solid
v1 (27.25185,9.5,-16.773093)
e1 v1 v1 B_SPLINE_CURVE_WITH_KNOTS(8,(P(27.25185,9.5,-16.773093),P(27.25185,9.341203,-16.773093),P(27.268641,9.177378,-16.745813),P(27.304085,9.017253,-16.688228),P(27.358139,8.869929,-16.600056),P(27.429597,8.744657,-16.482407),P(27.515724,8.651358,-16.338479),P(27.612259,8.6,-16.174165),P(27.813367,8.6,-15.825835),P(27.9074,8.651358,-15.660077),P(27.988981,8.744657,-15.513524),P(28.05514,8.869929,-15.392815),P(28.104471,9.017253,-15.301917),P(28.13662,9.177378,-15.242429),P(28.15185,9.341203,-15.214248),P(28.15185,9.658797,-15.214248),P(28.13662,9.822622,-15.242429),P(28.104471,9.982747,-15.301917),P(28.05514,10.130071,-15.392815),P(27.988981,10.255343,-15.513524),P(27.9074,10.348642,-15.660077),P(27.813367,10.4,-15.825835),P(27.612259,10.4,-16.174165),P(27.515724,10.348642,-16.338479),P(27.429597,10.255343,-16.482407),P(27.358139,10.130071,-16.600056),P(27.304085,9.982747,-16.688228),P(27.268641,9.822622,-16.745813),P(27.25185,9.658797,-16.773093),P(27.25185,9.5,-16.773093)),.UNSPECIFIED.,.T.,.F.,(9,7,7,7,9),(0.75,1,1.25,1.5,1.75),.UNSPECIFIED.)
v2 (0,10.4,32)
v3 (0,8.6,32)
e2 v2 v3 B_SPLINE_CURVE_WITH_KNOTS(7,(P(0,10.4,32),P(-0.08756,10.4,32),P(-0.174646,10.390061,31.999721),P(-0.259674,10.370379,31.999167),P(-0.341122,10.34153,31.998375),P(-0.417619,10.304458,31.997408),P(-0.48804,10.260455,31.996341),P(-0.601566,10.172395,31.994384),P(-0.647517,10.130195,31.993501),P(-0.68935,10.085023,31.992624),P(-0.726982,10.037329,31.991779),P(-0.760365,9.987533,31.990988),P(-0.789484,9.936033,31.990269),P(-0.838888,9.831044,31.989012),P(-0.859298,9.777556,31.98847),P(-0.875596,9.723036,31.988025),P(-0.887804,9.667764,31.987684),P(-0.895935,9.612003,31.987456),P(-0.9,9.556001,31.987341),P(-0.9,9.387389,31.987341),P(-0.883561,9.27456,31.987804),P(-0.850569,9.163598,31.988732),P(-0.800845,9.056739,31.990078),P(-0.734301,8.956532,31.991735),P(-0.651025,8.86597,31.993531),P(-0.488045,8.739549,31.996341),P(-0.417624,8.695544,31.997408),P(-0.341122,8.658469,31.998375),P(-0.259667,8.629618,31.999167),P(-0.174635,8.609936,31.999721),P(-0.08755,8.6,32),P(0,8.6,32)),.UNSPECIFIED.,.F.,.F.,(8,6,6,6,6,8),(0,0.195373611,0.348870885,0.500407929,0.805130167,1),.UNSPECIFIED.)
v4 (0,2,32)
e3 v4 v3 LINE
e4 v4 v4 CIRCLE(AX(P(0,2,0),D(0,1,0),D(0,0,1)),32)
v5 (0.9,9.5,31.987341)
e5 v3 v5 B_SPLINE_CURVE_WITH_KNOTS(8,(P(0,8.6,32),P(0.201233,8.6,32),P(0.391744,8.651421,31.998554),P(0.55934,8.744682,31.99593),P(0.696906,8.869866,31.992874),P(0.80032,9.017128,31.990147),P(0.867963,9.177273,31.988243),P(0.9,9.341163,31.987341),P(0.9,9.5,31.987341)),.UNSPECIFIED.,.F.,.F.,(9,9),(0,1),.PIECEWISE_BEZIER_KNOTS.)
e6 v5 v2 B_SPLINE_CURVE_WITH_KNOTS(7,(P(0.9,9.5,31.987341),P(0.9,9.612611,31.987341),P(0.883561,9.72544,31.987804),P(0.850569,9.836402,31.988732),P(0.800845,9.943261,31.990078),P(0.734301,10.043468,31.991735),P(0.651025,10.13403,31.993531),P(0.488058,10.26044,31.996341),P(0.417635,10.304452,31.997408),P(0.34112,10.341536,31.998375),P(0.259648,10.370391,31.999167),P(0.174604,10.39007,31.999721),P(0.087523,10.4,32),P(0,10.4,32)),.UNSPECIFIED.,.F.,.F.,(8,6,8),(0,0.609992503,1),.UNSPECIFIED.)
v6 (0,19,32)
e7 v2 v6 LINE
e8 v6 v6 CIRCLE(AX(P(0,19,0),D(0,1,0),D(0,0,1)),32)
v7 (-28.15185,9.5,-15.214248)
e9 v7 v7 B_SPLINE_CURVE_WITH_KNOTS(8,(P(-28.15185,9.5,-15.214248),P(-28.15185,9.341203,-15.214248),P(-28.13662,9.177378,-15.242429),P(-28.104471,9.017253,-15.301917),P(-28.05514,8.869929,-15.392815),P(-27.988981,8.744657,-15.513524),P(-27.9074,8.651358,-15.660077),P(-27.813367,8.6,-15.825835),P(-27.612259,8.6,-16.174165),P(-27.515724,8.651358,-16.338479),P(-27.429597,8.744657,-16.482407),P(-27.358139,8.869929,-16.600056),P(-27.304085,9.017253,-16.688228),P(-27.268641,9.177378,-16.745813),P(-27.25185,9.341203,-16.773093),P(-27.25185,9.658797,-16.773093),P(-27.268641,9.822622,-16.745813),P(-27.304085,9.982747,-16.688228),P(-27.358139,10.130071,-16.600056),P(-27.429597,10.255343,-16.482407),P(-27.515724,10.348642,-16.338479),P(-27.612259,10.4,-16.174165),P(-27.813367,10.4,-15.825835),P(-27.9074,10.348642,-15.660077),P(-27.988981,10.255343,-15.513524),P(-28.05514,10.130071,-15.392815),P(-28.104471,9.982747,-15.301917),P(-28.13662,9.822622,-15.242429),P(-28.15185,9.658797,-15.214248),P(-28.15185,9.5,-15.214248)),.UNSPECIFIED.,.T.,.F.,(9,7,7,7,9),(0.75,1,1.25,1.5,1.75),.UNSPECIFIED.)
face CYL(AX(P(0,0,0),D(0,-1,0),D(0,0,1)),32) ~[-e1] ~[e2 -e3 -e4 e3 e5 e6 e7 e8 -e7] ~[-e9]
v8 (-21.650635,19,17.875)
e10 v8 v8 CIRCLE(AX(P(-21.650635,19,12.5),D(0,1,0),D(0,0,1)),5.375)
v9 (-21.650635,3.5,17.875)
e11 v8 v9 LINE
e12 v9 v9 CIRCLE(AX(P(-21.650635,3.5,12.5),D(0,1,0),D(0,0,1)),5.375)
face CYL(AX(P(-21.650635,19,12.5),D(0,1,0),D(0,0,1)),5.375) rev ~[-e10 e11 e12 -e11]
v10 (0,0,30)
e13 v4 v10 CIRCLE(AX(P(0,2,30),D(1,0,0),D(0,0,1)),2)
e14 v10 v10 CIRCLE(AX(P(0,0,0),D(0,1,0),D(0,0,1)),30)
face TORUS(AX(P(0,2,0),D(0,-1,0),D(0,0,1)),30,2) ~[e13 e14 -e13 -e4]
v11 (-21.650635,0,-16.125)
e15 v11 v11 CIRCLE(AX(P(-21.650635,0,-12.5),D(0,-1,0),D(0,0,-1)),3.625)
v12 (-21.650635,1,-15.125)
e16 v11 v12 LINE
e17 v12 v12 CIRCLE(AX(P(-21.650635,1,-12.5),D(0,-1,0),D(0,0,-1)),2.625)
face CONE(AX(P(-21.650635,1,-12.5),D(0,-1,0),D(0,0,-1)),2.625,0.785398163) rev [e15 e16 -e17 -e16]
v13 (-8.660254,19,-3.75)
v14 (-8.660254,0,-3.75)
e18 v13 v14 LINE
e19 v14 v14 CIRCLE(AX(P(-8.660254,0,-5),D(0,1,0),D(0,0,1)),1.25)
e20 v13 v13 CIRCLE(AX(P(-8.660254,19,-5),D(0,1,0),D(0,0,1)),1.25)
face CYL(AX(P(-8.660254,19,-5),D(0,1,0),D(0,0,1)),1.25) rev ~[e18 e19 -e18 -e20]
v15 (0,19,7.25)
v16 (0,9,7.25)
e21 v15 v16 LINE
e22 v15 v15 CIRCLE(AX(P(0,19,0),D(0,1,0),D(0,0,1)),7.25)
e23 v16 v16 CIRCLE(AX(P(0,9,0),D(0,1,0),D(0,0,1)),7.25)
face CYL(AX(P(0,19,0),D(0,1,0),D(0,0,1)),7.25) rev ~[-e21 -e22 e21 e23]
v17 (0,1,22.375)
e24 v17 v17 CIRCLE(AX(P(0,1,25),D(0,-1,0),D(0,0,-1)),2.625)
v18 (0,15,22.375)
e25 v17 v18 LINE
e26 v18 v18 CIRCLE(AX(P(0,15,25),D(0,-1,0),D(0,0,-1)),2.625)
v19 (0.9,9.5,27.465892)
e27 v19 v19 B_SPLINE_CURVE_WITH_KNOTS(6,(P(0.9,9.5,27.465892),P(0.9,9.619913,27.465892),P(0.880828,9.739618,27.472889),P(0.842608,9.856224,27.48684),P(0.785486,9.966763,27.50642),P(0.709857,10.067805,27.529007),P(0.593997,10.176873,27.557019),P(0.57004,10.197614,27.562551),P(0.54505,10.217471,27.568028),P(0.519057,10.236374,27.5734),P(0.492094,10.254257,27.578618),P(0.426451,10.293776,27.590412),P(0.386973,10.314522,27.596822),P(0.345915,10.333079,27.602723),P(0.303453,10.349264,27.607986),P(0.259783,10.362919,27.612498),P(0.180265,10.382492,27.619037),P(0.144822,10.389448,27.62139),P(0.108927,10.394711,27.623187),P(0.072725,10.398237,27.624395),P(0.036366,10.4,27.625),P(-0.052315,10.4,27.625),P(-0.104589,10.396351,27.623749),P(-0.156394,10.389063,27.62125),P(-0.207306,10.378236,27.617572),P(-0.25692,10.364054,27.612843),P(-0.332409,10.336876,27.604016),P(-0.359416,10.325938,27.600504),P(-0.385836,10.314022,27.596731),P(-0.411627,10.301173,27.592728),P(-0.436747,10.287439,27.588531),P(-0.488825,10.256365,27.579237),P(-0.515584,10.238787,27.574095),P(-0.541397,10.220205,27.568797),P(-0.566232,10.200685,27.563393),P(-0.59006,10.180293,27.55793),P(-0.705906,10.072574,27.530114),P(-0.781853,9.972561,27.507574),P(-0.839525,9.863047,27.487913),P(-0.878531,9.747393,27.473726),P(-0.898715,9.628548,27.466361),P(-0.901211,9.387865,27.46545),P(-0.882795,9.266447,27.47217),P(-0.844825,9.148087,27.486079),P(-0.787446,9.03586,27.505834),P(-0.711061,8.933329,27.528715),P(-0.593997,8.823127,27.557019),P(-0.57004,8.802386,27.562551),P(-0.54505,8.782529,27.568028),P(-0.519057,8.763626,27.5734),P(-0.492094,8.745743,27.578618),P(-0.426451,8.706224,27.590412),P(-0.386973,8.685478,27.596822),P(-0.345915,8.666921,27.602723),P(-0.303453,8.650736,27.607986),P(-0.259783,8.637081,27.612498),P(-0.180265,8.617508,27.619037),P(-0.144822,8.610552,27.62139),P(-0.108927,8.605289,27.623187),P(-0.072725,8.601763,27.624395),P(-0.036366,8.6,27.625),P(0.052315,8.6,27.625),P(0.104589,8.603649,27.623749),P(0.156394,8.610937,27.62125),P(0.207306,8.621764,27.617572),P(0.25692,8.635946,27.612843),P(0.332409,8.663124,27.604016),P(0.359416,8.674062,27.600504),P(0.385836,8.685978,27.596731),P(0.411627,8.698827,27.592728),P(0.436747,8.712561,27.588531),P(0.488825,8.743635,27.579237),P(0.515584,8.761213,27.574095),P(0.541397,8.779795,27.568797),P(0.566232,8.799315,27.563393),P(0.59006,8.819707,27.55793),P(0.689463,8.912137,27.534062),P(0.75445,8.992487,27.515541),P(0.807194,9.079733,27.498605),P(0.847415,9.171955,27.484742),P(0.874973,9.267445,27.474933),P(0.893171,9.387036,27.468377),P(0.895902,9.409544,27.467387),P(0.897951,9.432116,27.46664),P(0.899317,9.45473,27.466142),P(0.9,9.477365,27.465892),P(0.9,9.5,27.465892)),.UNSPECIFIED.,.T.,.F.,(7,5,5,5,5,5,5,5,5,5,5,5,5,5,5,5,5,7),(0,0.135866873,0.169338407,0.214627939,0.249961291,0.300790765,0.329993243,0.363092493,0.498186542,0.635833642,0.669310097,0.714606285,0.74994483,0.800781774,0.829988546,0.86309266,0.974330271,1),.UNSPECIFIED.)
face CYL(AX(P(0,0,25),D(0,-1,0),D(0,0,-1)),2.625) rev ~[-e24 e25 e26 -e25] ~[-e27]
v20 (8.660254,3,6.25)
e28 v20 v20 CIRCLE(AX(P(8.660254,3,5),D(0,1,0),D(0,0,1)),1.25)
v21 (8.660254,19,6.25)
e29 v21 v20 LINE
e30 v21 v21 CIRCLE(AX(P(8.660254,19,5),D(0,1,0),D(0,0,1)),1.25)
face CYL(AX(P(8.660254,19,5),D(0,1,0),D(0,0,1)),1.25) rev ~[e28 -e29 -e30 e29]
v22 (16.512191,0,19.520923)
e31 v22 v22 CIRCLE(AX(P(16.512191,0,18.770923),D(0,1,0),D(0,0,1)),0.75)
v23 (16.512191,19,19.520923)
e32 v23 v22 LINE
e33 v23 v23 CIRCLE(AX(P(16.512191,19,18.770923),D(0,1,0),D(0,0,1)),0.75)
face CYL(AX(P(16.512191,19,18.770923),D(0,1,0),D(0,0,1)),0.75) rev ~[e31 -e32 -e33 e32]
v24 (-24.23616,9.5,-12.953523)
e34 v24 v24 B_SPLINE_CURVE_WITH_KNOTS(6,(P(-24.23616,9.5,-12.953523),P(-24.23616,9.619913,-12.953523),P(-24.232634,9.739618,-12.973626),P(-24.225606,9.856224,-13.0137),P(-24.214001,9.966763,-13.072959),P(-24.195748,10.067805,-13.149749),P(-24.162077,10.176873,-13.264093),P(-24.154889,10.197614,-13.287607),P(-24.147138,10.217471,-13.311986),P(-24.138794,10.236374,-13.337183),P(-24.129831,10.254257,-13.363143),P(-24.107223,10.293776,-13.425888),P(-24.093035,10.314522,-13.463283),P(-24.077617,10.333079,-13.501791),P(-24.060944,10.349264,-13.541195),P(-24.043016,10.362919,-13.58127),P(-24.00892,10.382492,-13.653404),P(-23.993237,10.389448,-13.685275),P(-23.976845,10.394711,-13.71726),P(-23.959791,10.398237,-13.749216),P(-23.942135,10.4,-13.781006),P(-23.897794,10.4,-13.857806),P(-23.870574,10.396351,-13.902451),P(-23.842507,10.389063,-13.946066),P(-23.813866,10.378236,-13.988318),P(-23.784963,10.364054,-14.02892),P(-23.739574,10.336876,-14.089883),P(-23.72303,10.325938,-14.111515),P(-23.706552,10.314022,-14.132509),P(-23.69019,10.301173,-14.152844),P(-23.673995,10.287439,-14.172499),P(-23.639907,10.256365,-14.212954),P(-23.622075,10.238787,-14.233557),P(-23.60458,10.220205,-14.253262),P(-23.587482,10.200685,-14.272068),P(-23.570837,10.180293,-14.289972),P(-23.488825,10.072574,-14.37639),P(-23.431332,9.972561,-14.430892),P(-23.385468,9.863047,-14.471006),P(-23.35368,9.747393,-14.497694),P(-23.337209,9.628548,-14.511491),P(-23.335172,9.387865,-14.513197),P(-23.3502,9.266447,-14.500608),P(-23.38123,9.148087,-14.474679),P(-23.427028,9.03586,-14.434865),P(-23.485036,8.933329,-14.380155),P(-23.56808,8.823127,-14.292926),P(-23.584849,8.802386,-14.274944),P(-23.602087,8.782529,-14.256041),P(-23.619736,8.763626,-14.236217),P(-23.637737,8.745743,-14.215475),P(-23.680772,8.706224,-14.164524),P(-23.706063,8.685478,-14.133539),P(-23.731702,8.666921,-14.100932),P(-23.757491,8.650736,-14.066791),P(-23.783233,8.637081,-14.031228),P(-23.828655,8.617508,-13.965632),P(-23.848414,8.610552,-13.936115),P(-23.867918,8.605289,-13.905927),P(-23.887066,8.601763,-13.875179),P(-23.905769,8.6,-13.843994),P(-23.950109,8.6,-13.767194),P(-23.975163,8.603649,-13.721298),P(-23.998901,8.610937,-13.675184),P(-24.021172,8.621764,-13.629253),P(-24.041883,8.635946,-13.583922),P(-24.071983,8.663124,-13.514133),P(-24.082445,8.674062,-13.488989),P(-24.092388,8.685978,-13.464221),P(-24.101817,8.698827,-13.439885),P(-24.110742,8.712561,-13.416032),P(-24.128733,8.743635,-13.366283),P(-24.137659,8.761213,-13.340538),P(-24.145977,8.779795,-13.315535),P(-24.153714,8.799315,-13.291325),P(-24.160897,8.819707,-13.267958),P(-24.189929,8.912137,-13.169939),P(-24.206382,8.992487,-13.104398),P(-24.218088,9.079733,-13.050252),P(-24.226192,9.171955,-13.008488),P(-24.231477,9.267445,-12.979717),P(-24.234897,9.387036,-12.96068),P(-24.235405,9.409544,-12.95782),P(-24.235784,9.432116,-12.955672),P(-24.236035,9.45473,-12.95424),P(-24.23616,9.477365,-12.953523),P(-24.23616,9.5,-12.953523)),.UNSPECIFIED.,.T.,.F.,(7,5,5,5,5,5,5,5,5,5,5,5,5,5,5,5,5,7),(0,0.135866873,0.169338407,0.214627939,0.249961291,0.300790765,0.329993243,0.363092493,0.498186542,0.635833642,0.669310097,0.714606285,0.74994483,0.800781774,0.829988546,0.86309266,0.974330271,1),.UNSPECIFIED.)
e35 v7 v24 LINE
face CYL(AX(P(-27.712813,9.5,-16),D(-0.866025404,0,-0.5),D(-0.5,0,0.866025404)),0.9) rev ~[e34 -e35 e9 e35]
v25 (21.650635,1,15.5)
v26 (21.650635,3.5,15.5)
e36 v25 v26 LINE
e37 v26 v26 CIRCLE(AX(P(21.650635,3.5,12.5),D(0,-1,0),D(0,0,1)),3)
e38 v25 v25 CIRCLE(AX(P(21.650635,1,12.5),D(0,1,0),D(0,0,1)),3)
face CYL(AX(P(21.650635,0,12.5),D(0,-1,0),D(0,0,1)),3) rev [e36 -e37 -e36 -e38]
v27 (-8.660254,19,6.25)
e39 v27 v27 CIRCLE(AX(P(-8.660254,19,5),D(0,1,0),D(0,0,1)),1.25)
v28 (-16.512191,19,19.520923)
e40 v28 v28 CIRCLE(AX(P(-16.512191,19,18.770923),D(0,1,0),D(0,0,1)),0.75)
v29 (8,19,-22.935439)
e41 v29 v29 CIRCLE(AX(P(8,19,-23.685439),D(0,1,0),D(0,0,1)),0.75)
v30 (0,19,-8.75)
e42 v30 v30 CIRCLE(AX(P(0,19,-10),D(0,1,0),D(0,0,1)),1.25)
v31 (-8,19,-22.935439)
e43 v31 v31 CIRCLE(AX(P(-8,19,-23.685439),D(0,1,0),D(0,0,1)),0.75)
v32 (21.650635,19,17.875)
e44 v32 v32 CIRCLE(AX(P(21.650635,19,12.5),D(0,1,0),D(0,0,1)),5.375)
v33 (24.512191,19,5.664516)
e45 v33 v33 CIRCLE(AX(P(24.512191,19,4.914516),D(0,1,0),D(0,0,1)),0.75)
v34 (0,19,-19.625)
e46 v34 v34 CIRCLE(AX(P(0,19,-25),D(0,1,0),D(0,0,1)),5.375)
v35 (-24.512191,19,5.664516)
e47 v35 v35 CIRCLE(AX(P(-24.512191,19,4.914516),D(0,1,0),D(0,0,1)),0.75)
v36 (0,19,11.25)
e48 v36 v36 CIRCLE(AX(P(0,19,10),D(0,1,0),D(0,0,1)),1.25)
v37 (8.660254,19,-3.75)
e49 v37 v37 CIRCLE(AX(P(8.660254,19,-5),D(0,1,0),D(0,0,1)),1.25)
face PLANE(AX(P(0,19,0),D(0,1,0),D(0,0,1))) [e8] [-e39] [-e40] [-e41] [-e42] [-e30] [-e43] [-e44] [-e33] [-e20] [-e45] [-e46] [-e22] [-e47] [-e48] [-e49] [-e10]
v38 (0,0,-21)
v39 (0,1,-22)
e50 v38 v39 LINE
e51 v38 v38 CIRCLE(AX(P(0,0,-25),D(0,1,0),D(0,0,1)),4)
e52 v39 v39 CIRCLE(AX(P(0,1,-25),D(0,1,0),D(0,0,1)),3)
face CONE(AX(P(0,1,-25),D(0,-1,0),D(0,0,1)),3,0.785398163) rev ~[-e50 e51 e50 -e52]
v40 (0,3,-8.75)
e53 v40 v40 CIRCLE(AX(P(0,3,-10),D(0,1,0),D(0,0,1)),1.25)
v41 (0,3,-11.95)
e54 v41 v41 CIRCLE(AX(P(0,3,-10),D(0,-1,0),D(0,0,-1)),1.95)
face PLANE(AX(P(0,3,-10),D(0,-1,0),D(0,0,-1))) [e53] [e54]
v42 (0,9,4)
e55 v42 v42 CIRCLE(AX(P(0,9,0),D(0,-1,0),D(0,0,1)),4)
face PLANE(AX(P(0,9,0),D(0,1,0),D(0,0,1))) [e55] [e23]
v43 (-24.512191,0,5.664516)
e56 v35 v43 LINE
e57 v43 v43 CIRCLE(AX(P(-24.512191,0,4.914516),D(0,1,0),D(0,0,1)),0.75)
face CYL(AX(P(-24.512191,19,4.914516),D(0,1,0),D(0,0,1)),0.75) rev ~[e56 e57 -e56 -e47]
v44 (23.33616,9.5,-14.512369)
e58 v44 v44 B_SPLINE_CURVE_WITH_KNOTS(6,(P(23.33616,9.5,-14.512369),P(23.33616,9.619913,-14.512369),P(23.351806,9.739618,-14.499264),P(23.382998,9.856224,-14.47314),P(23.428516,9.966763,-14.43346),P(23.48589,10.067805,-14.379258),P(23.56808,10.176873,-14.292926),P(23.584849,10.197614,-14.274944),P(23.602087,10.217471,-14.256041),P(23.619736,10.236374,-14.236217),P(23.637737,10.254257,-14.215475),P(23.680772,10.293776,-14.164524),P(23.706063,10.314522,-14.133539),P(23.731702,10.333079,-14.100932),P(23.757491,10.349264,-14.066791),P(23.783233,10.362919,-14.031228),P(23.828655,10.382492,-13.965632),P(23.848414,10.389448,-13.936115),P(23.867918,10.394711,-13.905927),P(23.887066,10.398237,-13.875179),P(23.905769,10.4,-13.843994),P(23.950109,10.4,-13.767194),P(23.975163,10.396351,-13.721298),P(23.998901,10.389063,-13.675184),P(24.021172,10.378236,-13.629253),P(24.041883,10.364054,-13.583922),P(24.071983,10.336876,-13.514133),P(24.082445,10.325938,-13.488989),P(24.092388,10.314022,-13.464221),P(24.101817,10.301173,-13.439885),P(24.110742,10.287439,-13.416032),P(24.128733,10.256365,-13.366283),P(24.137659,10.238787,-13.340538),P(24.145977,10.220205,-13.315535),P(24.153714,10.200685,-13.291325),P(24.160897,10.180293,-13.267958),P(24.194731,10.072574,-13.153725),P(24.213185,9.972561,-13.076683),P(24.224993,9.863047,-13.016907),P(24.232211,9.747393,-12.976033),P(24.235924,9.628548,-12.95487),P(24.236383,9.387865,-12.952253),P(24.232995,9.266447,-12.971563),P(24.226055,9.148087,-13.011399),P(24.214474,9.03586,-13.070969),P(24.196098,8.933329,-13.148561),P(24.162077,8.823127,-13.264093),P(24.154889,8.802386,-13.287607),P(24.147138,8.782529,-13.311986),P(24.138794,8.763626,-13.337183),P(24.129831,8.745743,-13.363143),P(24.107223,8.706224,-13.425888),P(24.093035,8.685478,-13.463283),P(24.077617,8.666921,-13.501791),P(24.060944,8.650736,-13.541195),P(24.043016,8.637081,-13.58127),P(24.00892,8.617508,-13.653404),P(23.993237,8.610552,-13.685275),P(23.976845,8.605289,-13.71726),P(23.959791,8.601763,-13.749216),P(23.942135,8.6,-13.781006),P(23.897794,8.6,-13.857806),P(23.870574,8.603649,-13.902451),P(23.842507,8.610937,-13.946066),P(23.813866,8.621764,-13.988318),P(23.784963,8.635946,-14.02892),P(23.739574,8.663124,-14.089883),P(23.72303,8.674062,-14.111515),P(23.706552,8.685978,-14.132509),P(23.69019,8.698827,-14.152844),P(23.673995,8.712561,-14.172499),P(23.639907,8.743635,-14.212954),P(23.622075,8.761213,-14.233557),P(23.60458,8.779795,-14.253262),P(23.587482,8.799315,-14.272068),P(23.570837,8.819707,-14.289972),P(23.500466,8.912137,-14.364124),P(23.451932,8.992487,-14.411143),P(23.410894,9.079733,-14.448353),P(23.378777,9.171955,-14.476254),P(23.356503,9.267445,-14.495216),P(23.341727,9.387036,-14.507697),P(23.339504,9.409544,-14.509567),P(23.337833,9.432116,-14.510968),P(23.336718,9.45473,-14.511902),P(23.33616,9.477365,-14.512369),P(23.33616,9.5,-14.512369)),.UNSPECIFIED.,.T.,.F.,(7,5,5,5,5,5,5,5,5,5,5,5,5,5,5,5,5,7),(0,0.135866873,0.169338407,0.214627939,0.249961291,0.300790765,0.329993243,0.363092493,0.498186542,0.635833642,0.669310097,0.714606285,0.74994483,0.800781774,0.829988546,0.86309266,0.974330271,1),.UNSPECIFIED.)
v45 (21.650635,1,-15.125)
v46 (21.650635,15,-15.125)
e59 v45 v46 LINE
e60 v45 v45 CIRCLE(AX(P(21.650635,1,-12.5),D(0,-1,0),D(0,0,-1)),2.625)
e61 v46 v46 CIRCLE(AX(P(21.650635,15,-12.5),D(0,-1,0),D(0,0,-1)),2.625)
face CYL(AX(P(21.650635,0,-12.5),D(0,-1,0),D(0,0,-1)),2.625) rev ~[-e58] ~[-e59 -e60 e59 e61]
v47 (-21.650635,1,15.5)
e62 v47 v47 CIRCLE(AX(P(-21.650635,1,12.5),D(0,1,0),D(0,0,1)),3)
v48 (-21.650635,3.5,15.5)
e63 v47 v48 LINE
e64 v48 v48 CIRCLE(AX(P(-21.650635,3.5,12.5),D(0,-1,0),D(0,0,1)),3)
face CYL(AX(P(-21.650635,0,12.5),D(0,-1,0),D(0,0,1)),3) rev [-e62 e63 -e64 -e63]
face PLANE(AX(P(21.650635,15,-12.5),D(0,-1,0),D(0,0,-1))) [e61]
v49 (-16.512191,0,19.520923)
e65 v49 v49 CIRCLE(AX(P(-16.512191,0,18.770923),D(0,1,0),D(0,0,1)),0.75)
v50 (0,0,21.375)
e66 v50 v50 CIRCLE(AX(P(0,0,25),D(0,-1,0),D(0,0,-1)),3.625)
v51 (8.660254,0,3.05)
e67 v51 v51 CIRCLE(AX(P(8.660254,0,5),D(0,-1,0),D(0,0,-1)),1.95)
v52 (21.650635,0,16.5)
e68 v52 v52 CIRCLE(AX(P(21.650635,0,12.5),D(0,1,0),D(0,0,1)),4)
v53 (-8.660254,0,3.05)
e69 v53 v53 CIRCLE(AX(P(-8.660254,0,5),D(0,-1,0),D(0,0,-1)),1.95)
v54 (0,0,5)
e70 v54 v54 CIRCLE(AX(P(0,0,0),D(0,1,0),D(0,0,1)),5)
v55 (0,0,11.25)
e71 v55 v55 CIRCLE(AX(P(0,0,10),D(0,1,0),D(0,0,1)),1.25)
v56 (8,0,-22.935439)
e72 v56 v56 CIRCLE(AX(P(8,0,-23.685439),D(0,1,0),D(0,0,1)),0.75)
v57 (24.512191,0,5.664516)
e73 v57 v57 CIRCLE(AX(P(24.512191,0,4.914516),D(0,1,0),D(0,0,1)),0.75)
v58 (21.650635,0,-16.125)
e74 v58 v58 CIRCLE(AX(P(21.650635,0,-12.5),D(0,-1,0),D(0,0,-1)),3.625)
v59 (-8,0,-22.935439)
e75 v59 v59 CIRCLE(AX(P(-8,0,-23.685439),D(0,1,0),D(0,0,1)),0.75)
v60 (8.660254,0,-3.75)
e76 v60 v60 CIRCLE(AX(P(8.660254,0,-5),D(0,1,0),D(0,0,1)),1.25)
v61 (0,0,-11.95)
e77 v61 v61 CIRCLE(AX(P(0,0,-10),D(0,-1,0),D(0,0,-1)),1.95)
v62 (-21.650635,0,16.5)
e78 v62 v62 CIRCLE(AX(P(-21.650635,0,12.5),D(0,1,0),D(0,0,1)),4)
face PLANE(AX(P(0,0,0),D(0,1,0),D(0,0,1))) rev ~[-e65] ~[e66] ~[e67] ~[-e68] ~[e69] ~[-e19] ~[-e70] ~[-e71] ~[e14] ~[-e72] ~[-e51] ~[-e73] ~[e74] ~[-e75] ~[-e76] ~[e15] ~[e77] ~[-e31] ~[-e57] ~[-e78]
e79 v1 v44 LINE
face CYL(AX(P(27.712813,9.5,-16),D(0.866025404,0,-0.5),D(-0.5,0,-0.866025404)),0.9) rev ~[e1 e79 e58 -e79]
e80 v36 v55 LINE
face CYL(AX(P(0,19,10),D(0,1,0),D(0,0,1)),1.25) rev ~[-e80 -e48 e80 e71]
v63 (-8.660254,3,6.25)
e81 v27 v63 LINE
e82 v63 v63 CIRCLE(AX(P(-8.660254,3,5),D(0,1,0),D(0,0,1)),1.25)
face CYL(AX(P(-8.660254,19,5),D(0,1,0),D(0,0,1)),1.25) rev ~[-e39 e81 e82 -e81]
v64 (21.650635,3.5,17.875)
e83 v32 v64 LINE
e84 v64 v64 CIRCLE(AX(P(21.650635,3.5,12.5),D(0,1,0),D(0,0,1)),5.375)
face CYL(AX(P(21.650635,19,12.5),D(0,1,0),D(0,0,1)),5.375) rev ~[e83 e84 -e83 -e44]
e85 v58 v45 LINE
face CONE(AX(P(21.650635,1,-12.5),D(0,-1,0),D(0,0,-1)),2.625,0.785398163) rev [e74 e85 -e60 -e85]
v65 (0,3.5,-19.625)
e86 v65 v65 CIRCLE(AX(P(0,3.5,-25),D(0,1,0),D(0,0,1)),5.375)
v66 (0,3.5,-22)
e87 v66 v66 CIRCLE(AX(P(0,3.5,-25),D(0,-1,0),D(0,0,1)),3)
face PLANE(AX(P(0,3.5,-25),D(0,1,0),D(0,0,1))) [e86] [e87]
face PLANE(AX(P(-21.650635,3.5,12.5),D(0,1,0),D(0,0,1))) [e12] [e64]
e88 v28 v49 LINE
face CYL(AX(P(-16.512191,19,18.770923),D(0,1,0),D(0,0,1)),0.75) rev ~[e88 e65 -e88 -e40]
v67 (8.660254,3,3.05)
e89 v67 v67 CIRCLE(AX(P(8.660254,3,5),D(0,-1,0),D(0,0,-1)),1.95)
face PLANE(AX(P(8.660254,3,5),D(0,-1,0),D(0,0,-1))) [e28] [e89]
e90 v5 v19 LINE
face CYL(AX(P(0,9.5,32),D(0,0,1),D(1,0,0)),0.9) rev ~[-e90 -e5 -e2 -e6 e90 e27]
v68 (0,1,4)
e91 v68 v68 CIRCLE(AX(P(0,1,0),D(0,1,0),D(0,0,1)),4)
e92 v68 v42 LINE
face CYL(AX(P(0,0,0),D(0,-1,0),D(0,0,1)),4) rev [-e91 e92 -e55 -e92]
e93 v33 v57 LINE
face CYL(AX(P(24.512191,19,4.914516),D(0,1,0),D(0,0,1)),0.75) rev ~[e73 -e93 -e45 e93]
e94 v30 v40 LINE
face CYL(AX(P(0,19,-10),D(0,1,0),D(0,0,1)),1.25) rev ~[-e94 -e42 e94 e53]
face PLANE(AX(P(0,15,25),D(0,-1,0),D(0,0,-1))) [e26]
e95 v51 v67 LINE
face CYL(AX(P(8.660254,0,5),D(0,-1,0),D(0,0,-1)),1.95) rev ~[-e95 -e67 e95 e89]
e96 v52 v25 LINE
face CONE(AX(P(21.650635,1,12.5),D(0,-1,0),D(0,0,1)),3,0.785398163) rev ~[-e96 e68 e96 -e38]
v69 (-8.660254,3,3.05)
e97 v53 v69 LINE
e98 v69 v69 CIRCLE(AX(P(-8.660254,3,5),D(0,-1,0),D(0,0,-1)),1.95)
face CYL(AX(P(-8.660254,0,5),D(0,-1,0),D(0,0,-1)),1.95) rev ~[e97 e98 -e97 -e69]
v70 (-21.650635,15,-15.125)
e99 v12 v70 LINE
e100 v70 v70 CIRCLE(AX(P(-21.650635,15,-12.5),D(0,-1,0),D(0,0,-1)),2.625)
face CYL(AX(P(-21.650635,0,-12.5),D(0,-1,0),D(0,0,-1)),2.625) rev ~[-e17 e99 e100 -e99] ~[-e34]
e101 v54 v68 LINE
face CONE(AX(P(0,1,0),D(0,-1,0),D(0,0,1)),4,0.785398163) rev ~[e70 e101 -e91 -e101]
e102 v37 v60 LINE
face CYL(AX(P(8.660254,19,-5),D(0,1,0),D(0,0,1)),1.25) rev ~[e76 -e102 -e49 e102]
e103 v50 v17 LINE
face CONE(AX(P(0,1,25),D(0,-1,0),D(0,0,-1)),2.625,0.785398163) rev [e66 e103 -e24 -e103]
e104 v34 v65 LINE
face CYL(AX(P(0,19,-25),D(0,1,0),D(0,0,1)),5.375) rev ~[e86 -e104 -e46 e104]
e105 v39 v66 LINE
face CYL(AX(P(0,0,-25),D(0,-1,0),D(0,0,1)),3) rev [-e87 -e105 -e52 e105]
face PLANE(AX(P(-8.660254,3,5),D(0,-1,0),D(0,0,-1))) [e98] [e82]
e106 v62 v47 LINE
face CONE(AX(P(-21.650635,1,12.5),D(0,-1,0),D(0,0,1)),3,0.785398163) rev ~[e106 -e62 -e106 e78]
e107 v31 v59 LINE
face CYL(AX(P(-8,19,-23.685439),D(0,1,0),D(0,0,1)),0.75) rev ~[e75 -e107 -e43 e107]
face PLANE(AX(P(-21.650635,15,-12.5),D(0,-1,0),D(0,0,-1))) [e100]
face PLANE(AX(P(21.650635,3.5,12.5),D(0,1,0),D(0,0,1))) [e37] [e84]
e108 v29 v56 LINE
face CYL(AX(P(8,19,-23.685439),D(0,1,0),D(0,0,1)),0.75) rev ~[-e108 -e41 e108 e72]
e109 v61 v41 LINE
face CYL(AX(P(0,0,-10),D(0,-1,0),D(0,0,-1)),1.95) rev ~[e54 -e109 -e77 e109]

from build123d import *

# Parameters (mm, degrees)
SKETCH_1_R               = 32
SKETCH_1_R_2             = 4
SKETCH_1_R_3             = 3
EXTRUDE_1_DEPTH          = 19
FILLET_1_R               = 2
SKETCH_2_R               = 5.375
CUT_EXTRUDE_1_DEPTH      = 15.5
SKETCH_3_R               = 2.625
CUT_EXTRUDE_2_DEPTH      = 15
SKETCH_4_R               = 1.25
CUT_EXTRUDE_3_DEPTH      = 50.081564832
SKETCH_7_R               = 1.95
CUT_EXTRUDE_5_DEPTH      = 3
CHAMFER_1_SIZE           = 1
SKETCH_8_R               = 7.25
CUT_EXTRUDE_6_DEPTH      = 10
SKETCH_9_R               = 0.75
CUT_EXTRUDE_7_DEPTH      = 50.081564832
CUT_EXTRUDE_9_REACH      = 76.034
CUT_EXTRUDE_9_END_RADIUS = 2.625
SKETCH_11_R              = 0.9
PATTERN_CIRCULAR_7_COUNT = 3


with BuildPart() as part:
    # Эскиз1 → Бобышка-Вытянуть1 (new body)
    with BuildSketch(Plane(origin=(0, 0, 0), x_dir=(1, 0, 0), z_dir=(0, 1, 0))):
        with Locations(Location((0, 0, 0), (0, 0, 270))):
            Circle(SKETCH_1_R)
        with Locations(Location((0, 0, 0), (0, 0, 270))):
            Circle(SKETCH_1_R_2, mode=Mode.SUBTRACT)
        with Locations(Location((0, 25, 0), (0, 0, 270))):
            Circle(SKETCH_1_R_3, mode=Mode.SUBTRACT)
        with Locations(Location((21.650635095, -12.5, 0), (0, 0, 270))):
            Circle(SKETCH_1_R_3, mode=Mode.SUBTRACT)
        with Locations(Location((-21.650635095, -12.5, 0), (0, 0, 270))):
            Circle(SKETCH_1_R_3, mode=Mode.SUBTRACT)
    extrude(amount=EXTRUDE_1_DEPTH)

    # Скругление1
    fillet_1_edges = [part.edges().sort_by_distance(p)[0] for p in [
        (0, 0, -32),
    ]]
    fillet(fillet_1_edges, radius=FILLET_1_R)

    # Эскиз2 → Вырез-Вытянуть1 (cut)
    with BuildSketch(Plane(origin=(0, 19, 0), x_dir=(1, 0, 0), z_dir=(0, 1, 0))):
        with Locations(Location((0, 25, 0), (0, 0, 270))):
            Circle(SKETCH_2_R)
        with Locations(Location((21.650635095, -12.5, 0), (0, 0, 270))):
            Circle(SKETCH_2_R)
        with Locations(Location((-21.650635095, -12.5, 0), (0, 0, 270))):
            Circle(SKETCH_2_R)
    extrude(amount=-CUT_EXTRUDE_1_DEPTH, mode=Mode.SUBTRACT)

    # Эскиз3 → Вырез-Вытянуть2 (cut)
    with BuildSketch(Plane.XZ):
        with Locations(Location((0, 25, 0), (0, 0, 270))):
            Circle(SKETCH_3_R)
        with Locations(Location((21.650635095, -12.5, 0), (0, 0, 270))):
            Circle(SKETCH_3_R)
        with Locations(Location((-21.650635095, -12.5, 0), (0, 0, 270))):
            Circle(SKETCH_3_R)
    extrude(amount=-CUT_EXTRUDE_2_DEPTH, mode=Mode.SUBTRACT)

    # Эскиз4 → Вырез-Вытянуть3 (cut, through all)
    with BuildSketch(Plane(origin=(0, 19, 0), x_dir=(1, 0, 0), z_dir=(0, 1, 0))):
        with Locations(Location((0, 10, 0), (0, 0, 270))):
            Circle(SKETCH_4_R)
        with Locations(Location((8.660254038, 5, 0), (0, 0, 270))):
            Circle(SKETCH_4_R)
        with Locations(Location((8.660254038, -5, 0), (0, 0, 270))):
            Circle(SKETCH_4_R)
        with Locations(Location((0, -10, 0), (0, 0, 270))):
            Circle(SKETCH_4_R)
        with Locations(Location((-8.660254038, -5, 0), (0, 0, 270))):
            Circle(SKETCH_4_R)
        with Locations(Location((-8.660254038, 5, 0), (0, 0, 270))):
            Circle(SKETCH_4_R)
    extrude(amount=-CUT_EXTRUDE_3_DEPTH, mode=Mode.SUBTRACT)

    # Эскиз7 → Вырез-Вытянуть5 (cut)
    with BuildSketch(Plane.XZ):
        with Locations(Location((8.660254038, 5, 0), (0, 0, 270))):
            Circle(SKETCH_7_R)
        with Locations(Location((0, -10, 0), (0, 0, 270))):
            Circle(SKETCH_7_R)
        with Locations(Location((-8.660254038, 5, 0), (0, 0, 270))):
            Circle(SKETCH_7_R)
    extrude(amount=-CUT_EXTRUDE_5_DEPTH, mode=Mode.SUBTRACT)

    # Фаска1
    chamfer_1_edges = [part.edges().sort_by_distance(p)[0] for p in [
        (21.650635095, 0, 9.5),
        (-21.650635095, 0, 9.5),
        (0, 0, 27.625),
        (21.650635095, 0, -9.875),
        (-21.650635095, 0, -9.875),
        (0, 0, -4),
        (0, 0, -28),
    ]]
    chamfer(chamfer_1_edges, length=CHAMFER_1_SIZE)

    # Эскиз8 → Вырез-Вытянуть6 (cut)
    with BuildSketch(Plane(origin=(0, 19, 0), x_dir=(1, 0, 0), z_dir=(0, 1, 0))):
        with Locations(Location((0, 0, 0), (0, 0, 270))):
            Circle(SKETCH_8_R)
    extrude(amount=-CUT_EXTRUDE_6_DEPTH, mode=Mode.SUBTRACT)

    # Эскиз9 → Вырез-Вытянуть7 (cut, through all)
    with BuildSketch(Plane(origin=(0, 19, 0), x_dir=(1, 0, 0), z_dir=(0, 1, 0))):
        with Locations(Location((-8, 23.685438565, 0), (0, 0, 270))):
            Circle(SKETCH_9_R)
        with Locations(Location((8, 23.685438565, 0), (0, 0, 270))):
            Circle(SKETCH_9_R)
        with Locations(Location((16.512191497, -18.770922513, 0), (0, 0, 270))):
            Circle(SKETCH_9_R)
        with Locations(Location((24.512191497, -4.914516052, 0), (0, 0, 270))):
            Circle(SKETCH_9_R)
        with Locations(Location((-24.512191497, -4.914516052, 0), (0, 0, 270))):
            Circle(SKETCH_9_R)
        with Locations(Location((-16.512191497, -18.770922513, 0), (0, 0, 270))):
            Circle(SKETCH_9_R)
    extrude(amount=-CUT_EXTRUDE_7_DEPTH, mode=Mode.SUBTRACT)

    # Вырез-Вытянуть9: up to this cylinder (the profile starts outside it)
    cut_extrude_9_end = Plane(origin=(0, 9.5, 25), z_dir=(0, -1, 0)) * Cylinder(CUT_EXTRUDE_9_END_RADIUS, 158.318, mode=Mode.PRIVATE)
    # Эскиз11 → Вырез-Вытянуть9 (cut, up to the surface)
    with BuildSketch(Plane.XY.offset(32), mode=Mode.PRIVATE) as cut_extrude_9_sk1:
        with Locations((0, 9.5)):
            Circle(SKETCH_11_R)
    cut_extrude_9_tool1 = extrude(cut_extrude_9_sk1.sketch, amount=-CUT_EXTRUDE_9_REACH, mode=Mode.PRIVATE) - cut_extrude_9_end
    cut_extrude_9 = cut_extrude_9_tool1.solids().sort_by_distance((0, 9.5, 32))[0]
    add(cut_extrude_9, mode=Mode.SUBTRACT)

    # Круговой массив7: Вырез-Вытянуть9 ×3 about axis
    pattern_circular_7_axis = Axis((0, 19, 0), (0, -1, 0))
    for i in range(1, PATTERN_CIRCULAR_7_COUNT):
        add(cut_extrude_9.rotate(pattern_circular_7_axis, i * 360 / PATTERN_CIRCULAR_7_COUNT), mode=Mode.SUBTRACT)


solid = part.part
